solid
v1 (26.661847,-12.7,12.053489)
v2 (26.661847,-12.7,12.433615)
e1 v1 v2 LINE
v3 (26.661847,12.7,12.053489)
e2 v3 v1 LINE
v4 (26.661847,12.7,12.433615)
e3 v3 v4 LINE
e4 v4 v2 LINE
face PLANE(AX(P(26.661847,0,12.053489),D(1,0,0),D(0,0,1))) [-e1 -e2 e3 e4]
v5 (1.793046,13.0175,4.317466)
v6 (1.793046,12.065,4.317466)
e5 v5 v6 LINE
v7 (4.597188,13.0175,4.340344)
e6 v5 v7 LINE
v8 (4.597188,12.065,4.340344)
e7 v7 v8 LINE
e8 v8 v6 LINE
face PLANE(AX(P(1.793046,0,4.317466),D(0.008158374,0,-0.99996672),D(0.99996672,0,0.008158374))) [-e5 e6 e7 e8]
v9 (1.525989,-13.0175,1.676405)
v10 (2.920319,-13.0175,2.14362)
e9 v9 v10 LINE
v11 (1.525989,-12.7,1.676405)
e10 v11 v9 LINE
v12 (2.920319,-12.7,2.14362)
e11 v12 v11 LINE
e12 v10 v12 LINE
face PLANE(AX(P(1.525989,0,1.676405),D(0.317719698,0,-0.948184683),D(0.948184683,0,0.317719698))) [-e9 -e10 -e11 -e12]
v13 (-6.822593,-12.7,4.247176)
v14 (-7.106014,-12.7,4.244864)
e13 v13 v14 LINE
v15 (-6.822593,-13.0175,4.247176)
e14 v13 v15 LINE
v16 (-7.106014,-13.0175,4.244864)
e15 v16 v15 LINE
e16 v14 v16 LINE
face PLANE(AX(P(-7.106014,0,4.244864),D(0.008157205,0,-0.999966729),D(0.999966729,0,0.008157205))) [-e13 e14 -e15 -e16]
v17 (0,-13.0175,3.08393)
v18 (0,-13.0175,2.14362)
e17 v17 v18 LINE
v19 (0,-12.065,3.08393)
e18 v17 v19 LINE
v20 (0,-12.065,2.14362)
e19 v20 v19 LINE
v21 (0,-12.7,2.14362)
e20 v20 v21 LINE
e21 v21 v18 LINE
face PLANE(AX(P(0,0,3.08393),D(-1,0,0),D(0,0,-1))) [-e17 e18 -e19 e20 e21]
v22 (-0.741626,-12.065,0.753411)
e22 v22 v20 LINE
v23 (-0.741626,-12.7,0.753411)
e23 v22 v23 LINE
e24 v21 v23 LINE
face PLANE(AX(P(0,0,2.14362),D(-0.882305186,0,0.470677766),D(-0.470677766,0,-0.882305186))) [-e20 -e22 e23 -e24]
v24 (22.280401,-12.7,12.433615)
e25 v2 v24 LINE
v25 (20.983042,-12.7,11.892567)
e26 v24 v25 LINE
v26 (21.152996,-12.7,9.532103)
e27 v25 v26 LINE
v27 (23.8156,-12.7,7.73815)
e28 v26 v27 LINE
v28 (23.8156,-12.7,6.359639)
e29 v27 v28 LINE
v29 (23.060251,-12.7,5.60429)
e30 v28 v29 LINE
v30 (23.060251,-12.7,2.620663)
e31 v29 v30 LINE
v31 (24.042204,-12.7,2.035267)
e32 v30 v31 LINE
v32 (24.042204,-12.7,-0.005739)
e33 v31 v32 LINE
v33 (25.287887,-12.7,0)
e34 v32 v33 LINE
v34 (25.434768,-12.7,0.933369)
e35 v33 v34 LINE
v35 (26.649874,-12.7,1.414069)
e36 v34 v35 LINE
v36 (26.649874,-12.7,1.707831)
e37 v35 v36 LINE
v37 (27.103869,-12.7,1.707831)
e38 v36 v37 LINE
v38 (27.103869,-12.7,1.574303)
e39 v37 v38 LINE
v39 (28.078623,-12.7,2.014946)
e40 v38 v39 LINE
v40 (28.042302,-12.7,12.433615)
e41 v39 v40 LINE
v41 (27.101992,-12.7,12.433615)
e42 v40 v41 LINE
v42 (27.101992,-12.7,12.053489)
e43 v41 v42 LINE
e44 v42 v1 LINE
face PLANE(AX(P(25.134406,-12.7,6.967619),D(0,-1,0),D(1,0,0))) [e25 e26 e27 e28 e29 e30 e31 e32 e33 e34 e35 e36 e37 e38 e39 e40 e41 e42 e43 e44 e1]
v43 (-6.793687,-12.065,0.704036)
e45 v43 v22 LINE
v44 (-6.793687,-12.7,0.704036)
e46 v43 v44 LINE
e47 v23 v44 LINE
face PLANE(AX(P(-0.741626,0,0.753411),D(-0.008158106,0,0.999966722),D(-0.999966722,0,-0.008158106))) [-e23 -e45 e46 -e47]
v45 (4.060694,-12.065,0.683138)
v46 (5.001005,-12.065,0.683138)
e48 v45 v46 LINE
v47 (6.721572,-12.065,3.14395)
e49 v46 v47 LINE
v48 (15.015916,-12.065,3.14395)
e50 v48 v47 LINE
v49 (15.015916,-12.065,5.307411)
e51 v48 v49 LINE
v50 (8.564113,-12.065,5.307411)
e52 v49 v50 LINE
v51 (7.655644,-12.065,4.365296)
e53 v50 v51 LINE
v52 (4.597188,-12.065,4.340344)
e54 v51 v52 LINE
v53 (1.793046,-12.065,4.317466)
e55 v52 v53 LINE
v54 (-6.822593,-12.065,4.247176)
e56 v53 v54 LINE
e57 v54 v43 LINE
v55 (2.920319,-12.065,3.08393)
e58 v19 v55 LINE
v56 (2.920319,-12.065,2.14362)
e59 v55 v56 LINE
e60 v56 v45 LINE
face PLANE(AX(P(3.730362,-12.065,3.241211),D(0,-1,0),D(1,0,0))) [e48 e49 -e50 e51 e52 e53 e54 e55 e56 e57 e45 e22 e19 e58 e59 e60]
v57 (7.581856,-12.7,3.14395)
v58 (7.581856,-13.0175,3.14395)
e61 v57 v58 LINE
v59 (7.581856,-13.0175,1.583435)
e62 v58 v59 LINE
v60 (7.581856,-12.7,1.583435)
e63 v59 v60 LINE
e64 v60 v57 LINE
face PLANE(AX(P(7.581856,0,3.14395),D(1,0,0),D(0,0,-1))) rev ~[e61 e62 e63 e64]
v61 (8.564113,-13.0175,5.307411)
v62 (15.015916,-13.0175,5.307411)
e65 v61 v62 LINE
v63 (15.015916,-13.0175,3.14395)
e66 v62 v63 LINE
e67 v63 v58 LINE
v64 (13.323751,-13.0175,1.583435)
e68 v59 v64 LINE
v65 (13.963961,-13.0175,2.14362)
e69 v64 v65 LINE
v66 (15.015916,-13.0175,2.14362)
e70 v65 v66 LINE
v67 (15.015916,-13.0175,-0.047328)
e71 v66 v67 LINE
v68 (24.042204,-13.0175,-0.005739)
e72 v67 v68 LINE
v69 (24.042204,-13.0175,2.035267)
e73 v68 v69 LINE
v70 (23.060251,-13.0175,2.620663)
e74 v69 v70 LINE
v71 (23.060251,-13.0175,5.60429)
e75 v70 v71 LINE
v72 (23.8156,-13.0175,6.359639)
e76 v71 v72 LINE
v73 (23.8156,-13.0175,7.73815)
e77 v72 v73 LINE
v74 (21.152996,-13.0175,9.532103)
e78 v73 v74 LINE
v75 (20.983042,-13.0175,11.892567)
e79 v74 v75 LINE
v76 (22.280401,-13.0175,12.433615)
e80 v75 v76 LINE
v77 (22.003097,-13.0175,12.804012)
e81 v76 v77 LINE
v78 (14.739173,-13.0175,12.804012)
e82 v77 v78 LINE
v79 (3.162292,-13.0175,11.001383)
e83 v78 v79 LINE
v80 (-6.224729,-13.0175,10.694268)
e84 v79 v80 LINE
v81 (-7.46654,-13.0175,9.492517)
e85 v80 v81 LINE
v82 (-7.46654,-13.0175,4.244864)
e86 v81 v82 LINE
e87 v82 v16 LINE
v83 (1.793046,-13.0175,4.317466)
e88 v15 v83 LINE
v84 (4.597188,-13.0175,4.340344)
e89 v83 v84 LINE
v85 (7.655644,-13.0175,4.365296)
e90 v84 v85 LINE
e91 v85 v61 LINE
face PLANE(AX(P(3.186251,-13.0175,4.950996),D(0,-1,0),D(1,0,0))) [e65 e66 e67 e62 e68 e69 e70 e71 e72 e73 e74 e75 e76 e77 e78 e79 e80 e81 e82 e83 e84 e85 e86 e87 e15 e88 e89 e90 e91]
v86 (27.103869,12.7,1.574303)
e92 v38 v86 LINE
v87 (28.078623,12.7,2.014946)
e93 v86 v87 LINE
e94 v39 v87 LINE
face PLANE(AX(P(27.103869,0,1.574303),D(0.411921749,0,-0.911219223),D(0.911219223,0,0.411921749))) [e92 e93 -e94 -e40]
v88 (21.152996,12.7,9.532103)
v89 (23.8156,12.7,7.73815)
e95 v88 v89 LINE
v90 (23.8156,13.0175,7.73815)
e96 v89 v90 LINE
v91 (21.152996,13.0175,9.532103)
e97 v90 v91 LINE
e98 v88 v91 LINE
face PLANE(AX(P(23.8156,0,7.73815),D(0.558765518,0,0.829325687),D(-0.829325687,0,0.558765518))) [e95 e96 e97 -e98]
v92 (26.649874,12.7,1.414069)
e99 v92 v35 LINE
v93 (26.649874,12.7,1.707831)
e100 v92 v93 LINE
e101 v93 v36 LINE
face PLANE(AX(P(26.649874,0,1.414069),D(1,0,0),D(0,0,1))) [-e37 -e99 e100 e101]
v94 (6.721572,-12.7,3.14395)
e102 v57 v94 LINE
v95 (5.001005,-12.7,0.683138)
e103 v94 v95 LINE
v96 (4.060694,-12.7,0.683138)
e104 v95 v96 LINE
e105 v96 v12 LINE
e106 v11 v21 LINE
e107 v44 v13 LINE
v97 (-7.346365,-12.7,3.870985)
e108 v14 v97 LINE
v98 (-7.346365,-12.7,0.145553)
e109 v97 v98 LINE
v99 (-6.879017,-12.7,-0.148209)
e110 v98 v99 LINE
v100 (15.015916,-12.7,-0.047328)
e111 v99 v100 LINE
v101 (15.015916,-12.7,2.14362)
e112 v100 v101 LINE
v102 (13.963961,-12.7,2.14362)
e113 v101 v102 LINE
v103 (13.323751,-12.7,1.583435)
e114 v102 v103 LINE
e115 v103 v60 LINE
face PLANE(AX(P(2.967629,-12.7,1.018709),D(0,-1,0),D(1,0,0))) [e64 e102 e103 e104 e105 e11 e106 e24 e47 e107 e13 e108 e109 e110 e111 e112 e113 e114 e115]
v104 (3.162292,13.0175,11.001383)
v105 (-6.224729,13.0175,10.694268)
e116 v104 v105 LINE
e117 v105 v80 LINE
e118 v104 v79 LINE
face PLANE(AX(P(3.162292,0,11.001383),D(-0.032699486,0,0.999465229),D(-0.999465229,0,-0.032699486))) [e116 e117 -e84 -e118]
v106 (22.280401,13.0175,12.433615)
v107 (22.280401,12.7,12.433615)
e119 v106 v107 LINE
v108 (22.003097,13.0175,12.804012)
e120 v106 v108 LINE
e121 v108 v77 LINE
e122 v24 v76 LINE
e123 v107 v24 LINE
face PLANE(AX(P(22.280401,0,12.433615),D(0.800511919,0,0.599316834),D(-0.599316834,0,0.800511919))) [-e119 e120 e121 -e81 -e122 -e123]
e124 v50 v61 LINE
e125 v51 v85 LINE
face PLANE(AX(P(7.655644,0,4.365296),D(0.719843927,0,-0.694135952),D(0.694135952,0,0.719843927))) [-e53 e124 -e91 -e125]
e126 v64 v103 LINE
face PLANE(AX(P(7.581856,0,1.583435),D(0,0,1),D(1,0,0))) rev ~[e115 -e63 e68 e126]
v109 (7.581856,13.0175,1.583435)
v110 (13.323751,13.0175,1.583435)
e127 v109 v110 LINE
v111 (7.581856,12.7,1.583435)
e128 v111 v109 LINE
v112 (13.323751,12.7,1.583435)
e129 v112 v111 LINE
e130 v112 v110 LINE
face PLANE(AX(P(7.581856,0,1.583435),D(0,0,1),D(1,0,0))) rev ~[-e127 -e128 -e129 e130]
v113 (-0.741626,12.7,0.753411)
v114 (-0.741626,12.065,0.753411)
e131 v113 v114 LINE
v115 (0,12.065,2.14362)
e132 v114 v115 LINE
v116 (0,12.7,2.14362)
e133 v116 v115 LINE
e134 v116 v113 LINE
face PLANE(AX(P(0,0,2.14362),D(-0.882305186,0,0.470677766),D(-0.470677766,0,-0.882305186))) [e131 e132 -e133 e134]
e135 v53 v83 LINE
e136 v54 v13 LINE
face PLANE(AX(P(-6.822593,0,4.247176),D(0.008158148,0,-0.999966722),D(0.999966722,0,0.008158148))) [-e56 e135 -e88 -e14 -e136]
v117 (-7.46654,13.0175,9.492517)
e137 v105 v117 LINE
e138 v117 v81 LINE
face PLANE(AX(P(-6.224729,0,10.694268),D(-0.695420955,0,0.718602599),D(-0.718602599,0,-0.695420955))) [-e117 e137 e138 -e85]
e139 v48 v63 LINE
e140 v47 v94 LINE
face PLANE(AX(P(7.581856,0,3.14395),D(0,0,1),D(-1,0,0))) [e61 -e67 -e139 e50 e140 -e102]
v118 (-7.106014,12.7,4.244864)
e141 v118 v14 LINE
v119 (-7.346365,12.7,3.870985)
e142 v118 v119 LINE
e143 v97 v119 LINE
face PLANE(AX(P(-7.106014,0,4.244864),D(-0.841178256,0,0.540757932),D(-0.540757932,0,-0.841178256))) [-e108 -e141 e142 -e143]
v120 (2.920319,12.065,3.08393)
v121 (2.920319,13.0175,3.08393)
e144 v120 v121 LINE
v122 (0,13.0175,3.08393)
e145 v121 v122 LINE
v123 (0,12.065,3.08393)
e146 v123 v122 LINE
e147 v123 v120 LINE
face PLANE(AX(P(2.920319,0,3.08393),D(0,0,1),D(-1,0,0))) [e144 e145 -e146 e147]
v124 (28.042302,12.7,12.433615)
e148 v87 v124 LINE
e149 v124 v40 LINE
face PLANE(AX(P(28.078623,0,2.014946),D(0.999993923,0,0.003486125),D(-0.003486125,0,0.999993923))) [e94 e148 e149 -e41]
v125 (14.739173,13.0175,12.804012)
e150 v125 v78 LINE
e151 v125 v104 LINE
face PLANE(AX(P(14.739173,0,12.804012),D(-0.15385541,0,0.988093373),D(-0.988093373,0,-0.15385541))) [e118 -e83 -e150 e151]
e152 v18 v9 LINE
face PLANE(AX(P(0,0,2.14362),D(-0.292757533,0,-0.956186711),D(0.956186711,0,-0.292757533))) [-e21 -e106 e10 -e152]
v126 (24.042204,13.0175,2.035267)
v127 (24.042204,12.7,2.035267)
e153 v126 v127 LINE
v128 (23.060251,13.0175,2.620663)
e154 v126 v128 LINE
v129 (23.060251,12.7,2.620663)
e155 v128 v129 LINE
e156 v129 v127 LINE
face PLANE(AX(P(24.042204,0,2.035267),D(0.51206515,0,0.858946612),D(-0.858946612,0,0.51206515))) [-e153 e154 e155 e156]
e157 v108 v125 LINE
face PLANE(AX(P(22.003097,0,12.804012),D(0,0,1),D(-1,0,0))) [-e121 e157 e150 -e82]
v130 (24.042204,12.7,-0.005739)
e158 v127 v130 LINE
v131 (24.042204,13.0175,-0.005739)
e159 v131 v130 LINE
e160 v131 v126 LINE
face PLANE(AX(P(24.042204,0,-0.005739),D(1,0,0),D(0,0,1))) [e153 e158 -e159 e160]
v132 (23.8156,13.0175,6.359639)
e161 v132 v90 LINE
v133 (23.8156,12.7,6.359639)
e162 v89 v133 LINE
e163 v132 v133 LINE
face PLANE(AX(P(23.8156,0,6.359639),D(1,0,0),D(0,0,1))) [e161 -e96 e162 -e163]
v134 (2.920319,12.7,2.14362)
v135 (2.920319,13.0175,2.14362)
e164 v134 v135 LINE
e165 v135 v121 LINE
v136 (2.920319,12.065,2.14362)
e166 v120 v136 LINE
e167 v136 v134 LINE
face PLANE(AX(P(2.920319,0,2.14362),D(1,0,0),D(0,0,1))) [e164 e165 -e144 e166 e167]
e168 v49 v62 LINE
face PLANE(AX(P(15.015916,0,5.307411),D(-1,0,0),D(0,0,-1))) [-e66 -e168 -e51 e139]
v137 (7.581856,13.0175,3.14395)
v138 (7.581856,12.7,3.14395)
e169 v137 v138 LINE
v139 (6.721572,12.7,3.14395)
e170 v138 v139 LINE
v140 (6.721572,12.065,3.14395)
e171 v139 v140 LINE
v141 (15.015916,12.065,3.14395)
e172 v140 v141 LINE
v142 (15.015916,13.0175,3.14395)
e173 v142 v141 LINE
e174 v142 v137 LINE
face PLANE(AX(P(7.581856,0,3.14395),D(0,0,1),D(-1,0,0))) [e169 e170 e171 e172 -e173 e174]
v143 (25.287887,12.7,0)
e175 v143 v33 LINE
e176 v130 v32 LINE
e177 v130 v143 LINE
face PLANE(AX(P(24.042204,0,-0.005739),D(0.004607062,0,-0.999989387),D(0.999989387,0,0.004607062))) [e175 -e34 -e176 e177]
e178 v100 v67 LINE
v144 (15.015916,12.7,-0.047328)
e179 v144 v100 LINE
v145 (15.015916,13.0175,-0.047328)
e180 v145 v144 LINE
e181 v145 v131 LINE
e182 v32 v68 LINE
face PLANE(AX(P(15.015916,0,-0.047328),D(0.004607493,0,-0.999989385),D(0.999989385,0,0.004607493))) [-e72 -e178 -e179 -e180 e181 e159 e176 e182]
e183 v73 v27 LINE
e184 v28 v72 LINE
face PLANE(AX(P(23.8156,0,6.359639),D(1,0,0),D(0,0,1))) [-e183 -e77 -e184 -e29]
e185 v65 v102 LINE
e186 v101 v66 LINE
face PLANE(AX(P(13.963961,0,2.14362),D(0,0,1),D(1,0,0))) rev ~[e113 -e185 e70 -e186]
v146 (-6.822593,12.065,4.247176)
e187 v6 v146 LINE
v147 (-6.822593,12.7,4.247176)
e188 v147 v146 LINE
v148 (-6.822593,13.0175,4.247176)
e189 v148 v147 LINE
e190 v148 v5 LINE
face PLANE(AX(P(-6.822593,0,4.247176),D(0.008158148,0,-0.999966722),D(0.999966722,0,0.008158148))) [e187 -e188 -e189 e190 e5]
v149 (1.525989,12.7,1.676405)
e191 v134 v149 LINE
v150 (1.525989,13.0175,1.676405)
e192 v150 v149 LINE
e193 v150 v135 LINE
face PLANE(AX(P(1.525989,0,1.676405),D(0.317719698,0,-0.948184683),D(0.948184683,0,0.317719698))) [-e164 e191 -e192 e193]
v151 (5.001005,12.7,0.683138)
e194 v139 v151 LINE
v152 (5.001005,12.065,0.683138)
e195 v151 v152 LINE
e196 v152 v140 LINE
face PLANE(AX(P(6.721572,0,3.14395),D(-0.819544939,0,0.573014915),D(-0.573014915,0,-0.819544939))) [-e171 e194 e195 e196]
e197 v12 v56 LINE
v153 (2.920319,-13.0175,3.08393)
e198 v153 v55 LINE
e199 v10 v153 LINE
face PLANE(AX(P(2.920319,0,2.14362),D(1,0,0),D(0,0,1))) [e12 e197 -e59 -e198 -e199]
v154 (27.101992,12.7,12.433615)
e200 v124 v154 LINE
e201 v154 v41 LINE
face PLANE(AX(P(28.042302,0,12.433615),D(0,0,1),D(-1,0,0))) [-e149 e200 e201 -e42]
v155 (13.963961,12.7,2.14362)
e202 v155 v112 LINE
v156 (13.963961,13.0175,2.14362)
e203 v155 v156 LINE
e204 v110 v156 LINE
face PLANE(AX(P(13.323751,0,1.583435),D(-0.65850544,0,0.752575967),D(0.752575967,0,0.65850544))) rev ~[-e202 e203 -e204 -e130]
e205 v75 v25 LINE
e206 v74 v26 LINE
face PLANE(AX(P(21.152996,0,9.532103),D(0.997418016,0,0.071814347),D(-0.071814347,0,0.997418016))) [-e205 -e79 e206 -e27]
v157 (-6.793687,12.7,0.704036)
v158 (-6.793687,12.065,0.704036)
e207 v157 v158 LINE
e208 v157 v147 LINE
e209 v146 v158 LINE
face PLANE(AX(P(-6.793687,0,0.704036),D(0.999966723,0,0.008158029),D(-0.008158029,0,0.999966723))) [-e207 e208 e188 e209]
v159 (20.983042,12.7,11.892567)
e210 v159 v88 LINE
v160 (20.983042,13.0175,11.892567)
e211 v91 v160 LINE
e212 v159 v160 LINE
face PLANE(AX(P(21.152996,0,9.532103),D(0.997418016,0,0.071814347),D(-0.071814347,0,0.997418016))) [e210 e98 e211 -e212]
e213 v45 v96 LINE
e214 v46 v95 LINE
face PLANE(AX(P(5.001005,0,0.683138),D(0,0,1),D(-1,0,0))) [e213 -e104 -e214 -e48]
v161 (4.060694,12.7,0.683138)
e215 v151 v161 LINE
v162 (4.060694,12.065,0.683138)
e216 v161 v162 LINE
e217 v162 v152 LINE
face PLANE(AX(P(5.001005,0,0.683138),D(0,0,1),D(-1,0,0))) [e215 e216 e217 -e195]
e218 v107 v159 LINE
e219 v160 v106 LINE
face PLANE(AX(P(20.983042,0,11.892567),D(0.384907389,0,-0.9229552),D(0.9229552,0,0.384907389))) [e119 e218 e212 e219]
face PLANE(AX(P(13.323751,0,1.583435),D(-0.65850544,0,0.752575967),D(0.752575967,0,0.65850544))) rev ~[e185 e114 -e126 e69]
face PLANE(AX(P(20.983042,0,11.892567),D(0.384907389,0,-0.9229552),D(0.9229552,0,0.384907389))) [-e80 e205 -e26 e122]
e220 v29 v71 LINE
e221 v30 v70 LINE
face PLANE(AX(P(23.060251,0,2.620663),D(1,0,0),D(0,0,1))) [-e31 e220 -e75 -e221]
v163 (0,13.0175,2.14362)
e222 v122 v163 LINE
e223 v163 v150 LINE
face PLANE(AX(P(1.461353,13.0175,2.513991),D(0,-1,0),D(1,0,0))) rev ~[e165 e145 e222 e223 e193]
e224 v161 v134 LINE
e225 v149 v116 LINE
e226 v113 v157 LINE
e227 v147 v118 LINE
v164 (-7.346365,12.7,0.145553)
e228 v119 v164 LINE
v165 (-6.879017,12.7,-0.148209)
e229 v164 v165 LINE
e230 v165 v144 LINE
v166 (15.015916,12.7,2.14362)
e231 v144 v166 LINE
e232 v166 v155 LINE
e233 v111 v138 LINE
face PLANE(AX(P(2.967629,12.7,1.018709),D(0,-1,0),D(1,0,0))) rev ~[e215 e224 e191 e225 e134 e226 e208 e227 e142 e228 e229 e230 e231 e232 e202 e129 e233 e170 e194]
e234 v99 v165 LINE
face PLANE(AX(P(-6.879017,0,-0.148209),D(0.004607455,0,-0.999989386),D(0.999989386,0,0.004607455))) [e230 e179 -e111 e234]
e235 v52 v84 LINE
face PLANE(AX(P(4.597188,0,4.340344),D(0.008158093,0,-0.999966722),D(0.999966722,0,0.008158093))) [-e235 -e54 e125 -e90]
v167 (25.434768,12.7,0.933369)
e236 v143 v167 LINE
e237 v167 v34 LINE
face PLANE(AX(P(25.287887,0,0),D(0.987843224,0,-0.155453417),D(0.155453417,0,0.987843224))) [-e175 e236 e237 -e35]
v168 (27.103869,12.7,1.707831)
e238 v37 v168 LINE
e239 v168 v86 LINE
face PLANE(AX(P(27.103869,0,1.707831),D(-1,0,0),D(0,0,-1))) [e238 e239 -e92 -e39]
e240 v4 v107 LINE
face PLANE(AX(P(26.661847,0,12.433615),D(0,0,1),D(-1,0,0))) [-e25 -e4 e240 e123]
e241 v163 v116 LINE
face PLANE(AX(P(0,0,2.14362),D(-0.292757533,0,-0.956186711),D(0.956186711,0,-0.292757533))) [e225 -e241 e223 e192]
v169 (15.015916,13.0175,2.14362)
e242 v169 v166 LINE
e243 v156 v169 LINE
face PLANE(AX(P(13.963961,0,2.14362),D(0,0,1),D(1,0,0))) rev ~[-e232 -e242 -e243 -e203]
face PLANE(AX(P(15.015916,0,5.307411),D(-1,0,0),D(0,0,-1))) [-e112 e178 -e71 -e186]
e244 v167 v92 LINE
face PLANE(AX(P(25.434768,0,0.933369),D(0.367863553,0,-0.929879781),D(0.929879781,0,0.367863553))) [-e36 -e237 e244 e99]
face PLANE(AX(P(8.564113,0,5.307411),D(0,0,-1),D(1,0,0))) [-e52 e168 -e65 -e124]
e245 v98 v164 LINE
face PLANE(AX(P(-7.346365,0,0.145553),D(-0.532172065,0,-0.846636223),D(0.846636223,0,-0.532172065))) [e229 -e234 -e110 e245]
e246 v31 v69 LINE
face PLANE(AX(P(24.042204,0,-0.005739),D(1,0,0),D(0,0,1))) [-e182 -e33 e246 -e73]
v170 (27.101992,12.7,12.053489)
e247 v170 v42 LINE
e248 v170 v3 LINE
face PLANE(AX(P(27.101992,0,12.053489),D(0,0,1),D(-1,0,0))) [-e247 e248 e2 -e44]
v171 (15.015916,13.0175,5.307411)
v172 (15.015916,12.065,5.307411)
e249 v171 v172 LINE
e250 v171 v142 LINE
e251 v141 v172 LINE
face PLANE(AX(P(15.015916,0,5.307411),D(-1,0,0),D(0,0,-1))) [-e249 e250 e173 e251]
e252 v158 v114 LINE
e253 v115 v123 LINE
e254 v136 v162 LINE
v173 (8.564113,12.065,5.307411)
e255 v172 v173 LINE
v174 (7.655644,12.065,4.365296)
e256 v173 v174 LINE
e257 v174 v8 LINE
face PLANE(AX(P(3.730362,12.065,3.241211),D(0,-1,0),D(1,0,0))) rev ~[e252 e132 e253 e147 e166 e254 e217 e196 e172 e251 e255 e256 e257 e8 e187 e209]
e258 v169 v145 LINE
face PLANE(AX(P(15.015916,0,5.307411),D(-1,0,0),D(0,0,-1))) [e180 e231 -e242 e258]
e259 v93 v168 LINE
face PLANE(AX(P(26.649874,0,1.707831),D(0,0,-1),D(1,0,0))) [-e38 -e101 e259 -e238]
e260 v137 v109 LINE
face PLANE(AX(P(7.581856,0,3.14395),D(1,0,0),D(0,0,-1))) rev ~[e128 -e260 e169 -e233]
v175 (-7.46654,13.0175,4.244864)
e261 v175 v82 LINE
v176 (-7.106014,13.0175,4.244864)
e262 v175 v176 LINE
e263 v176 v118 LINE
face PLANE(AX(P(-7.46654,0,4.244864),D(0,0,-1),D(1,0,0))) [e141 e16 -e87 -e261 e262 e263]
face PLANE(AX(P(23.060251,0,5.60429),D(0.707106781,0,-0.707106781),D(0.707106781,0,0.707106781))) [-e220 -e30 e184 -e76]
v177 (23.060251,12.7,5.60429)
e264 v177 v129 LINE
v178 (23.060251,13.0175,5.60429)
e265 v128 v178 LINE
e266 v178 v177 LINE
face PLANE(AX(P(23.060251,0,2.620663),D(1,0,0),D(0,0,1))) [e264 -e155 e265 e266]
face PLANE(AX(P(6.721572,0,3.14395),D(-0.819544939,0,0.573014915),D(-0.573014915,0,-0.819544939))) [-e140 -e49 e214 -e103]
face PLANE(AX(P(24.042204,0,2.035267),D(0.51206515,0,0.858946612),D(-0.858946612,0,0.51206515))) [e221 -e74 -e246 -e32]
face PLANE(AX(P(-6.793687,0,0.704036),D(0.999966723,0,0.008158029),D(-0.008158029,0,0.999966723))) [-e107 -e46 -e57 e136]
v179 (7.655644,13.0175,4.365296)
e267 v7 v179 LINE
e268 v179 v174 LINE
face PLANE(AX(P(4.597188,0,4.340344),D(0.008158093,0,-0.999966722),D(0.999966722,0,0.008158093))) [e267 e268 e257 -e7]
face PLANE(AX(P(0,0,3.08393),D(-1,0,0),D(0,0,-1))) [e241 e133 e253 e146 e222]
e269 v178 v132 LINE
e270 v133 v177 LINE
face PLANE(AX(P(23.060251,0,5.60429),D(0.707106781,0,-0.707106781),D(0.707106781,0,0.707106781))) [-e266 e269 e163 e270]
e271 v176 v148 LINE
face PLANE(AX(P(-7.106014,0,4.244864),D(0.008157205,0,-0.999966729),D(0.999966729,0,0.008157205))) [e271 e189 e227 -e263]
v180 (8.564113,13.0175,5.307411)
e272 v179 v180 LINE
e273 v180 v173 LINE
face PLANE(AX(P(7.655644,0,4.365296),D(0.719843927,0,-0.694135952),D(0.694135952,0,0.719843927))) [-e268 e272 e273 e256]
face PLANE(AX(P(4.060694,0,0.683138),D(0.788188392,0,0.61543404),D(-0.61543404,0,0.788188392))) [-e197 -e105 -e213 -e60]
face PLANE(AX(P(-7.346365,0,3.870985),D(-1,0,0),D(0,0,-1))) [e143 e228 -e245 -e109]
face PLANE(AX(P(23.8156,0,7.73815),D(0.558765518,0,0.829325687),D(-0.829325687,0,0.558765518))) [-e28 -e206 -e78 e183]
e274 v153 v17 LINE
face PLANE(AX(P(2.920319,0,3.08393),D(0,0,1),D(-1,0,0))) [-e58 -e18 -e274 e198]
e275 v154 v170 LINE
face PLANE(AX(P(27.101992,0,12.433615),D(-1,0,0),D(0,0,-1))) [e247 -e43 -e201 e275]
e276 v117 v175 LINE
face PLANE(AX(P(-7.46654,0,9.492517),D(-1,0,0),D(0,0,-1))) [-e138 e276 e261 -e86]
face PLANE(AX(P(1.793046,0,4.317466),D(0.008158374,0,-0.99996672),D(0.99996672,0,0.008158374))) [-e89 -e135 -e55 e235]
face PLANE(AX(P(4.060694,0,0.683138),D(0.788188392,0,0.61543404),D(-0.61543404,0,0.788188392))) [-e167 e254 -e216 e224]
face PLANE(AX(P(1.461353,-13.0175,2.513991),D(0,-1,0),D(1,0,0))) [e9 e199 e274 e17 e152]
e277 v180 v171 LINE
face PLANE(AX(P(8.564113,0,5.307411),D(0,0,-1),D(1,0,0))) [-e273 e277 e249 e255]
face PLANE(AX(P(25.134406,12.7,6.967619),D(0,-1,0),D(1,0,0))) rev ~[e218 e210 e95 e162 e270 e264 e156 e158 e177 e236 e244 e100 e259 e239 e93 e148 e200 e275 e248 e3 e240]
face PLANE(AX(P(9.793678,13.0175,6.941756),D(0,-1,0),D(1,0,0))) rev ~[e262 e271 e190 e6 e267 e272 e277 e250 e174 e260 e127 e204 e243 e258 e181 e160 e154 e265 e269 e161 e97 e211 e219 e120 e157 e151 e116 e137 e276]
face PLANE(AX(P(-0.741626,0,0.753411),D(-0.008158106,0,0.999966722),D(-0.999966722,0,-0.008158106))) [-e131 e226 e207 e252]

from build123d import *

# Parameters (mm, degrees)
F1_DEPTH = 12.7
F2_DEPTH = 13.0175
F3_DEPTH = 12.065
F4_DEPTH = 13.0175
F5_DEPTH = 13.0175
F6_DEPTH = 12.7


with BuildPart() as f1:
    # F0 (on Front) → F1 (new body, symmetric)
    with BuildSketch(Plane.XZ):
        Polygon((28.078623, 2.014946), (28.042302, 12.433615), (27.101992, 12.433615), (27.101992, 12.053489), (26.661847, 12.053489), (26.661847, 12.433615), (22.280401, 12.433615), (20.983042, 11.892567), (21.152996, 9.532103), (23.8156, 7.73815), (23.8156, 6.359639), (23.060251, 5.60429), (23.060251, 2.620663), (24.042204, 2.035267), (24.042204, -0.005739), (25.287887, 0), (25.434768, 0.933369), (26.649874, 1.414069), (26.649874, 1.707831), (27.103869, 1.707831), (27.103869, 1.574303), align=None)
    extrude(amount=F1_DEPTH, both=True)

    # F0 (on Front) → F2 (join, symmetric)
    with BuildSketch(Plane.XZ):
        Polygon((20.983042, 11.892567), (22.280401, 12.433615), (22.003097, 12.804012), (14.739173, 12.804012), (3.162292, 11.001383), (-6.224729, 10.694268), (-7.46654, 9.492517), (-7.46654, 4.244864), (-7.106014, 4.244864), (-6.822593, 4.247176), (1.793046, 4.317466), (1.793046, 5.308367), (2.968092, 5.895891), (4.589082, 5.333918), (4.597188, 4.340344), (7.655644, 4.365296), (8.564113, 5.307411), (15.015916, 5.307411), (15.015916, 3.14395), (15.015916, 2.14362), (15.015916, -0.047328), (24.042204, -0.005739), (24.042204, 2.035267), (23.060251, 2.620663), (23.060251, 5.60429), (23.8156, 6.359639), (23.8156, 7.73815), (21.152996, 9.532103), align=None)
    extrude(amount=F2_DEPTH, both=True)

    # F0 (on Front) → F3 (join, symmetric)
    with BuildSketch(Plane.XZ):
        Polygon((7.581856, 3.14395), (15.015916, 3.14395), (15.015916, 5.307411), (8.564113, 5.307411), (7.655644, 4.365296), (4.597188, 4.340344), (1.793046, 4.317466), (-6.822593, 4.247176), (-6.793687, 0.704036), (-0.741626, 0.753411), (0, 2.14362), (0, 3.08393), (2.920319, 3.08393), (2.920319, 2.14362), (4.060694, 0.683138), (5.001005, 0.683138), (6.721572, 3.14395), align=None)
    extrude(amount=F3_DEPTH, both=True)

    # F0 (on Front) → F4 (join, symmetric)
    with BuildSketch(Plane.XZ):
        Polygon((13.963961, 2.14362), (15.015916, 2.14362), (15.015916, 3.14395), (7.581856, 3.14395), (7.581856, 1.583435), (13.323751, 1.583435), align=None)
        Polygon((0, 3.08393), (0, 2.14362), (1.525989, 1.676405), (2.920319, 2.14362), (2.920319, 3.08393), align=None)
    extrude(amount=F4_DEPTH, both=True)

    # F0 (on Front) → F5 (join, symmetric)
    with BuildSketch(Plane.XZ):
        Polygon((1.793046, 5.308367), (1.793046, 4.317466), (4.597188, 4.340344), (4.589082, 5.333918), (2.968092, 5.895891), align=None)
    extrude(amount=F5_DEPTH, both=True)

    # F0 (on Front) → F6 (join, symmetric)
    with BuildSketch(Plane.XZ):
        Polygon((-6.879017, -0.148209), (15.015916, -0.047328), (15.015916, 2.14362), (13.963961, 2.14362), (13.323751, 1.583435), (7.581856, 1.583435), (7.581856, 3.14395), (6.721572, 3.14395), (5.001005, 0.683138), (4.060694, 0.683138), (2.920319, 2.14362), (1.525989, 1.676405), (0, 2.14362), (-0.741626, 0.753411), (-6.793687, 0.704036), (-6.822593, 4.247176), (-7.106014, 4.244864), (-7.346365, 3.870985), (-7.346365, 0.145553), align=None)
    extrude(amount=F6_DEPTH, both=True)


solid = f1.part
